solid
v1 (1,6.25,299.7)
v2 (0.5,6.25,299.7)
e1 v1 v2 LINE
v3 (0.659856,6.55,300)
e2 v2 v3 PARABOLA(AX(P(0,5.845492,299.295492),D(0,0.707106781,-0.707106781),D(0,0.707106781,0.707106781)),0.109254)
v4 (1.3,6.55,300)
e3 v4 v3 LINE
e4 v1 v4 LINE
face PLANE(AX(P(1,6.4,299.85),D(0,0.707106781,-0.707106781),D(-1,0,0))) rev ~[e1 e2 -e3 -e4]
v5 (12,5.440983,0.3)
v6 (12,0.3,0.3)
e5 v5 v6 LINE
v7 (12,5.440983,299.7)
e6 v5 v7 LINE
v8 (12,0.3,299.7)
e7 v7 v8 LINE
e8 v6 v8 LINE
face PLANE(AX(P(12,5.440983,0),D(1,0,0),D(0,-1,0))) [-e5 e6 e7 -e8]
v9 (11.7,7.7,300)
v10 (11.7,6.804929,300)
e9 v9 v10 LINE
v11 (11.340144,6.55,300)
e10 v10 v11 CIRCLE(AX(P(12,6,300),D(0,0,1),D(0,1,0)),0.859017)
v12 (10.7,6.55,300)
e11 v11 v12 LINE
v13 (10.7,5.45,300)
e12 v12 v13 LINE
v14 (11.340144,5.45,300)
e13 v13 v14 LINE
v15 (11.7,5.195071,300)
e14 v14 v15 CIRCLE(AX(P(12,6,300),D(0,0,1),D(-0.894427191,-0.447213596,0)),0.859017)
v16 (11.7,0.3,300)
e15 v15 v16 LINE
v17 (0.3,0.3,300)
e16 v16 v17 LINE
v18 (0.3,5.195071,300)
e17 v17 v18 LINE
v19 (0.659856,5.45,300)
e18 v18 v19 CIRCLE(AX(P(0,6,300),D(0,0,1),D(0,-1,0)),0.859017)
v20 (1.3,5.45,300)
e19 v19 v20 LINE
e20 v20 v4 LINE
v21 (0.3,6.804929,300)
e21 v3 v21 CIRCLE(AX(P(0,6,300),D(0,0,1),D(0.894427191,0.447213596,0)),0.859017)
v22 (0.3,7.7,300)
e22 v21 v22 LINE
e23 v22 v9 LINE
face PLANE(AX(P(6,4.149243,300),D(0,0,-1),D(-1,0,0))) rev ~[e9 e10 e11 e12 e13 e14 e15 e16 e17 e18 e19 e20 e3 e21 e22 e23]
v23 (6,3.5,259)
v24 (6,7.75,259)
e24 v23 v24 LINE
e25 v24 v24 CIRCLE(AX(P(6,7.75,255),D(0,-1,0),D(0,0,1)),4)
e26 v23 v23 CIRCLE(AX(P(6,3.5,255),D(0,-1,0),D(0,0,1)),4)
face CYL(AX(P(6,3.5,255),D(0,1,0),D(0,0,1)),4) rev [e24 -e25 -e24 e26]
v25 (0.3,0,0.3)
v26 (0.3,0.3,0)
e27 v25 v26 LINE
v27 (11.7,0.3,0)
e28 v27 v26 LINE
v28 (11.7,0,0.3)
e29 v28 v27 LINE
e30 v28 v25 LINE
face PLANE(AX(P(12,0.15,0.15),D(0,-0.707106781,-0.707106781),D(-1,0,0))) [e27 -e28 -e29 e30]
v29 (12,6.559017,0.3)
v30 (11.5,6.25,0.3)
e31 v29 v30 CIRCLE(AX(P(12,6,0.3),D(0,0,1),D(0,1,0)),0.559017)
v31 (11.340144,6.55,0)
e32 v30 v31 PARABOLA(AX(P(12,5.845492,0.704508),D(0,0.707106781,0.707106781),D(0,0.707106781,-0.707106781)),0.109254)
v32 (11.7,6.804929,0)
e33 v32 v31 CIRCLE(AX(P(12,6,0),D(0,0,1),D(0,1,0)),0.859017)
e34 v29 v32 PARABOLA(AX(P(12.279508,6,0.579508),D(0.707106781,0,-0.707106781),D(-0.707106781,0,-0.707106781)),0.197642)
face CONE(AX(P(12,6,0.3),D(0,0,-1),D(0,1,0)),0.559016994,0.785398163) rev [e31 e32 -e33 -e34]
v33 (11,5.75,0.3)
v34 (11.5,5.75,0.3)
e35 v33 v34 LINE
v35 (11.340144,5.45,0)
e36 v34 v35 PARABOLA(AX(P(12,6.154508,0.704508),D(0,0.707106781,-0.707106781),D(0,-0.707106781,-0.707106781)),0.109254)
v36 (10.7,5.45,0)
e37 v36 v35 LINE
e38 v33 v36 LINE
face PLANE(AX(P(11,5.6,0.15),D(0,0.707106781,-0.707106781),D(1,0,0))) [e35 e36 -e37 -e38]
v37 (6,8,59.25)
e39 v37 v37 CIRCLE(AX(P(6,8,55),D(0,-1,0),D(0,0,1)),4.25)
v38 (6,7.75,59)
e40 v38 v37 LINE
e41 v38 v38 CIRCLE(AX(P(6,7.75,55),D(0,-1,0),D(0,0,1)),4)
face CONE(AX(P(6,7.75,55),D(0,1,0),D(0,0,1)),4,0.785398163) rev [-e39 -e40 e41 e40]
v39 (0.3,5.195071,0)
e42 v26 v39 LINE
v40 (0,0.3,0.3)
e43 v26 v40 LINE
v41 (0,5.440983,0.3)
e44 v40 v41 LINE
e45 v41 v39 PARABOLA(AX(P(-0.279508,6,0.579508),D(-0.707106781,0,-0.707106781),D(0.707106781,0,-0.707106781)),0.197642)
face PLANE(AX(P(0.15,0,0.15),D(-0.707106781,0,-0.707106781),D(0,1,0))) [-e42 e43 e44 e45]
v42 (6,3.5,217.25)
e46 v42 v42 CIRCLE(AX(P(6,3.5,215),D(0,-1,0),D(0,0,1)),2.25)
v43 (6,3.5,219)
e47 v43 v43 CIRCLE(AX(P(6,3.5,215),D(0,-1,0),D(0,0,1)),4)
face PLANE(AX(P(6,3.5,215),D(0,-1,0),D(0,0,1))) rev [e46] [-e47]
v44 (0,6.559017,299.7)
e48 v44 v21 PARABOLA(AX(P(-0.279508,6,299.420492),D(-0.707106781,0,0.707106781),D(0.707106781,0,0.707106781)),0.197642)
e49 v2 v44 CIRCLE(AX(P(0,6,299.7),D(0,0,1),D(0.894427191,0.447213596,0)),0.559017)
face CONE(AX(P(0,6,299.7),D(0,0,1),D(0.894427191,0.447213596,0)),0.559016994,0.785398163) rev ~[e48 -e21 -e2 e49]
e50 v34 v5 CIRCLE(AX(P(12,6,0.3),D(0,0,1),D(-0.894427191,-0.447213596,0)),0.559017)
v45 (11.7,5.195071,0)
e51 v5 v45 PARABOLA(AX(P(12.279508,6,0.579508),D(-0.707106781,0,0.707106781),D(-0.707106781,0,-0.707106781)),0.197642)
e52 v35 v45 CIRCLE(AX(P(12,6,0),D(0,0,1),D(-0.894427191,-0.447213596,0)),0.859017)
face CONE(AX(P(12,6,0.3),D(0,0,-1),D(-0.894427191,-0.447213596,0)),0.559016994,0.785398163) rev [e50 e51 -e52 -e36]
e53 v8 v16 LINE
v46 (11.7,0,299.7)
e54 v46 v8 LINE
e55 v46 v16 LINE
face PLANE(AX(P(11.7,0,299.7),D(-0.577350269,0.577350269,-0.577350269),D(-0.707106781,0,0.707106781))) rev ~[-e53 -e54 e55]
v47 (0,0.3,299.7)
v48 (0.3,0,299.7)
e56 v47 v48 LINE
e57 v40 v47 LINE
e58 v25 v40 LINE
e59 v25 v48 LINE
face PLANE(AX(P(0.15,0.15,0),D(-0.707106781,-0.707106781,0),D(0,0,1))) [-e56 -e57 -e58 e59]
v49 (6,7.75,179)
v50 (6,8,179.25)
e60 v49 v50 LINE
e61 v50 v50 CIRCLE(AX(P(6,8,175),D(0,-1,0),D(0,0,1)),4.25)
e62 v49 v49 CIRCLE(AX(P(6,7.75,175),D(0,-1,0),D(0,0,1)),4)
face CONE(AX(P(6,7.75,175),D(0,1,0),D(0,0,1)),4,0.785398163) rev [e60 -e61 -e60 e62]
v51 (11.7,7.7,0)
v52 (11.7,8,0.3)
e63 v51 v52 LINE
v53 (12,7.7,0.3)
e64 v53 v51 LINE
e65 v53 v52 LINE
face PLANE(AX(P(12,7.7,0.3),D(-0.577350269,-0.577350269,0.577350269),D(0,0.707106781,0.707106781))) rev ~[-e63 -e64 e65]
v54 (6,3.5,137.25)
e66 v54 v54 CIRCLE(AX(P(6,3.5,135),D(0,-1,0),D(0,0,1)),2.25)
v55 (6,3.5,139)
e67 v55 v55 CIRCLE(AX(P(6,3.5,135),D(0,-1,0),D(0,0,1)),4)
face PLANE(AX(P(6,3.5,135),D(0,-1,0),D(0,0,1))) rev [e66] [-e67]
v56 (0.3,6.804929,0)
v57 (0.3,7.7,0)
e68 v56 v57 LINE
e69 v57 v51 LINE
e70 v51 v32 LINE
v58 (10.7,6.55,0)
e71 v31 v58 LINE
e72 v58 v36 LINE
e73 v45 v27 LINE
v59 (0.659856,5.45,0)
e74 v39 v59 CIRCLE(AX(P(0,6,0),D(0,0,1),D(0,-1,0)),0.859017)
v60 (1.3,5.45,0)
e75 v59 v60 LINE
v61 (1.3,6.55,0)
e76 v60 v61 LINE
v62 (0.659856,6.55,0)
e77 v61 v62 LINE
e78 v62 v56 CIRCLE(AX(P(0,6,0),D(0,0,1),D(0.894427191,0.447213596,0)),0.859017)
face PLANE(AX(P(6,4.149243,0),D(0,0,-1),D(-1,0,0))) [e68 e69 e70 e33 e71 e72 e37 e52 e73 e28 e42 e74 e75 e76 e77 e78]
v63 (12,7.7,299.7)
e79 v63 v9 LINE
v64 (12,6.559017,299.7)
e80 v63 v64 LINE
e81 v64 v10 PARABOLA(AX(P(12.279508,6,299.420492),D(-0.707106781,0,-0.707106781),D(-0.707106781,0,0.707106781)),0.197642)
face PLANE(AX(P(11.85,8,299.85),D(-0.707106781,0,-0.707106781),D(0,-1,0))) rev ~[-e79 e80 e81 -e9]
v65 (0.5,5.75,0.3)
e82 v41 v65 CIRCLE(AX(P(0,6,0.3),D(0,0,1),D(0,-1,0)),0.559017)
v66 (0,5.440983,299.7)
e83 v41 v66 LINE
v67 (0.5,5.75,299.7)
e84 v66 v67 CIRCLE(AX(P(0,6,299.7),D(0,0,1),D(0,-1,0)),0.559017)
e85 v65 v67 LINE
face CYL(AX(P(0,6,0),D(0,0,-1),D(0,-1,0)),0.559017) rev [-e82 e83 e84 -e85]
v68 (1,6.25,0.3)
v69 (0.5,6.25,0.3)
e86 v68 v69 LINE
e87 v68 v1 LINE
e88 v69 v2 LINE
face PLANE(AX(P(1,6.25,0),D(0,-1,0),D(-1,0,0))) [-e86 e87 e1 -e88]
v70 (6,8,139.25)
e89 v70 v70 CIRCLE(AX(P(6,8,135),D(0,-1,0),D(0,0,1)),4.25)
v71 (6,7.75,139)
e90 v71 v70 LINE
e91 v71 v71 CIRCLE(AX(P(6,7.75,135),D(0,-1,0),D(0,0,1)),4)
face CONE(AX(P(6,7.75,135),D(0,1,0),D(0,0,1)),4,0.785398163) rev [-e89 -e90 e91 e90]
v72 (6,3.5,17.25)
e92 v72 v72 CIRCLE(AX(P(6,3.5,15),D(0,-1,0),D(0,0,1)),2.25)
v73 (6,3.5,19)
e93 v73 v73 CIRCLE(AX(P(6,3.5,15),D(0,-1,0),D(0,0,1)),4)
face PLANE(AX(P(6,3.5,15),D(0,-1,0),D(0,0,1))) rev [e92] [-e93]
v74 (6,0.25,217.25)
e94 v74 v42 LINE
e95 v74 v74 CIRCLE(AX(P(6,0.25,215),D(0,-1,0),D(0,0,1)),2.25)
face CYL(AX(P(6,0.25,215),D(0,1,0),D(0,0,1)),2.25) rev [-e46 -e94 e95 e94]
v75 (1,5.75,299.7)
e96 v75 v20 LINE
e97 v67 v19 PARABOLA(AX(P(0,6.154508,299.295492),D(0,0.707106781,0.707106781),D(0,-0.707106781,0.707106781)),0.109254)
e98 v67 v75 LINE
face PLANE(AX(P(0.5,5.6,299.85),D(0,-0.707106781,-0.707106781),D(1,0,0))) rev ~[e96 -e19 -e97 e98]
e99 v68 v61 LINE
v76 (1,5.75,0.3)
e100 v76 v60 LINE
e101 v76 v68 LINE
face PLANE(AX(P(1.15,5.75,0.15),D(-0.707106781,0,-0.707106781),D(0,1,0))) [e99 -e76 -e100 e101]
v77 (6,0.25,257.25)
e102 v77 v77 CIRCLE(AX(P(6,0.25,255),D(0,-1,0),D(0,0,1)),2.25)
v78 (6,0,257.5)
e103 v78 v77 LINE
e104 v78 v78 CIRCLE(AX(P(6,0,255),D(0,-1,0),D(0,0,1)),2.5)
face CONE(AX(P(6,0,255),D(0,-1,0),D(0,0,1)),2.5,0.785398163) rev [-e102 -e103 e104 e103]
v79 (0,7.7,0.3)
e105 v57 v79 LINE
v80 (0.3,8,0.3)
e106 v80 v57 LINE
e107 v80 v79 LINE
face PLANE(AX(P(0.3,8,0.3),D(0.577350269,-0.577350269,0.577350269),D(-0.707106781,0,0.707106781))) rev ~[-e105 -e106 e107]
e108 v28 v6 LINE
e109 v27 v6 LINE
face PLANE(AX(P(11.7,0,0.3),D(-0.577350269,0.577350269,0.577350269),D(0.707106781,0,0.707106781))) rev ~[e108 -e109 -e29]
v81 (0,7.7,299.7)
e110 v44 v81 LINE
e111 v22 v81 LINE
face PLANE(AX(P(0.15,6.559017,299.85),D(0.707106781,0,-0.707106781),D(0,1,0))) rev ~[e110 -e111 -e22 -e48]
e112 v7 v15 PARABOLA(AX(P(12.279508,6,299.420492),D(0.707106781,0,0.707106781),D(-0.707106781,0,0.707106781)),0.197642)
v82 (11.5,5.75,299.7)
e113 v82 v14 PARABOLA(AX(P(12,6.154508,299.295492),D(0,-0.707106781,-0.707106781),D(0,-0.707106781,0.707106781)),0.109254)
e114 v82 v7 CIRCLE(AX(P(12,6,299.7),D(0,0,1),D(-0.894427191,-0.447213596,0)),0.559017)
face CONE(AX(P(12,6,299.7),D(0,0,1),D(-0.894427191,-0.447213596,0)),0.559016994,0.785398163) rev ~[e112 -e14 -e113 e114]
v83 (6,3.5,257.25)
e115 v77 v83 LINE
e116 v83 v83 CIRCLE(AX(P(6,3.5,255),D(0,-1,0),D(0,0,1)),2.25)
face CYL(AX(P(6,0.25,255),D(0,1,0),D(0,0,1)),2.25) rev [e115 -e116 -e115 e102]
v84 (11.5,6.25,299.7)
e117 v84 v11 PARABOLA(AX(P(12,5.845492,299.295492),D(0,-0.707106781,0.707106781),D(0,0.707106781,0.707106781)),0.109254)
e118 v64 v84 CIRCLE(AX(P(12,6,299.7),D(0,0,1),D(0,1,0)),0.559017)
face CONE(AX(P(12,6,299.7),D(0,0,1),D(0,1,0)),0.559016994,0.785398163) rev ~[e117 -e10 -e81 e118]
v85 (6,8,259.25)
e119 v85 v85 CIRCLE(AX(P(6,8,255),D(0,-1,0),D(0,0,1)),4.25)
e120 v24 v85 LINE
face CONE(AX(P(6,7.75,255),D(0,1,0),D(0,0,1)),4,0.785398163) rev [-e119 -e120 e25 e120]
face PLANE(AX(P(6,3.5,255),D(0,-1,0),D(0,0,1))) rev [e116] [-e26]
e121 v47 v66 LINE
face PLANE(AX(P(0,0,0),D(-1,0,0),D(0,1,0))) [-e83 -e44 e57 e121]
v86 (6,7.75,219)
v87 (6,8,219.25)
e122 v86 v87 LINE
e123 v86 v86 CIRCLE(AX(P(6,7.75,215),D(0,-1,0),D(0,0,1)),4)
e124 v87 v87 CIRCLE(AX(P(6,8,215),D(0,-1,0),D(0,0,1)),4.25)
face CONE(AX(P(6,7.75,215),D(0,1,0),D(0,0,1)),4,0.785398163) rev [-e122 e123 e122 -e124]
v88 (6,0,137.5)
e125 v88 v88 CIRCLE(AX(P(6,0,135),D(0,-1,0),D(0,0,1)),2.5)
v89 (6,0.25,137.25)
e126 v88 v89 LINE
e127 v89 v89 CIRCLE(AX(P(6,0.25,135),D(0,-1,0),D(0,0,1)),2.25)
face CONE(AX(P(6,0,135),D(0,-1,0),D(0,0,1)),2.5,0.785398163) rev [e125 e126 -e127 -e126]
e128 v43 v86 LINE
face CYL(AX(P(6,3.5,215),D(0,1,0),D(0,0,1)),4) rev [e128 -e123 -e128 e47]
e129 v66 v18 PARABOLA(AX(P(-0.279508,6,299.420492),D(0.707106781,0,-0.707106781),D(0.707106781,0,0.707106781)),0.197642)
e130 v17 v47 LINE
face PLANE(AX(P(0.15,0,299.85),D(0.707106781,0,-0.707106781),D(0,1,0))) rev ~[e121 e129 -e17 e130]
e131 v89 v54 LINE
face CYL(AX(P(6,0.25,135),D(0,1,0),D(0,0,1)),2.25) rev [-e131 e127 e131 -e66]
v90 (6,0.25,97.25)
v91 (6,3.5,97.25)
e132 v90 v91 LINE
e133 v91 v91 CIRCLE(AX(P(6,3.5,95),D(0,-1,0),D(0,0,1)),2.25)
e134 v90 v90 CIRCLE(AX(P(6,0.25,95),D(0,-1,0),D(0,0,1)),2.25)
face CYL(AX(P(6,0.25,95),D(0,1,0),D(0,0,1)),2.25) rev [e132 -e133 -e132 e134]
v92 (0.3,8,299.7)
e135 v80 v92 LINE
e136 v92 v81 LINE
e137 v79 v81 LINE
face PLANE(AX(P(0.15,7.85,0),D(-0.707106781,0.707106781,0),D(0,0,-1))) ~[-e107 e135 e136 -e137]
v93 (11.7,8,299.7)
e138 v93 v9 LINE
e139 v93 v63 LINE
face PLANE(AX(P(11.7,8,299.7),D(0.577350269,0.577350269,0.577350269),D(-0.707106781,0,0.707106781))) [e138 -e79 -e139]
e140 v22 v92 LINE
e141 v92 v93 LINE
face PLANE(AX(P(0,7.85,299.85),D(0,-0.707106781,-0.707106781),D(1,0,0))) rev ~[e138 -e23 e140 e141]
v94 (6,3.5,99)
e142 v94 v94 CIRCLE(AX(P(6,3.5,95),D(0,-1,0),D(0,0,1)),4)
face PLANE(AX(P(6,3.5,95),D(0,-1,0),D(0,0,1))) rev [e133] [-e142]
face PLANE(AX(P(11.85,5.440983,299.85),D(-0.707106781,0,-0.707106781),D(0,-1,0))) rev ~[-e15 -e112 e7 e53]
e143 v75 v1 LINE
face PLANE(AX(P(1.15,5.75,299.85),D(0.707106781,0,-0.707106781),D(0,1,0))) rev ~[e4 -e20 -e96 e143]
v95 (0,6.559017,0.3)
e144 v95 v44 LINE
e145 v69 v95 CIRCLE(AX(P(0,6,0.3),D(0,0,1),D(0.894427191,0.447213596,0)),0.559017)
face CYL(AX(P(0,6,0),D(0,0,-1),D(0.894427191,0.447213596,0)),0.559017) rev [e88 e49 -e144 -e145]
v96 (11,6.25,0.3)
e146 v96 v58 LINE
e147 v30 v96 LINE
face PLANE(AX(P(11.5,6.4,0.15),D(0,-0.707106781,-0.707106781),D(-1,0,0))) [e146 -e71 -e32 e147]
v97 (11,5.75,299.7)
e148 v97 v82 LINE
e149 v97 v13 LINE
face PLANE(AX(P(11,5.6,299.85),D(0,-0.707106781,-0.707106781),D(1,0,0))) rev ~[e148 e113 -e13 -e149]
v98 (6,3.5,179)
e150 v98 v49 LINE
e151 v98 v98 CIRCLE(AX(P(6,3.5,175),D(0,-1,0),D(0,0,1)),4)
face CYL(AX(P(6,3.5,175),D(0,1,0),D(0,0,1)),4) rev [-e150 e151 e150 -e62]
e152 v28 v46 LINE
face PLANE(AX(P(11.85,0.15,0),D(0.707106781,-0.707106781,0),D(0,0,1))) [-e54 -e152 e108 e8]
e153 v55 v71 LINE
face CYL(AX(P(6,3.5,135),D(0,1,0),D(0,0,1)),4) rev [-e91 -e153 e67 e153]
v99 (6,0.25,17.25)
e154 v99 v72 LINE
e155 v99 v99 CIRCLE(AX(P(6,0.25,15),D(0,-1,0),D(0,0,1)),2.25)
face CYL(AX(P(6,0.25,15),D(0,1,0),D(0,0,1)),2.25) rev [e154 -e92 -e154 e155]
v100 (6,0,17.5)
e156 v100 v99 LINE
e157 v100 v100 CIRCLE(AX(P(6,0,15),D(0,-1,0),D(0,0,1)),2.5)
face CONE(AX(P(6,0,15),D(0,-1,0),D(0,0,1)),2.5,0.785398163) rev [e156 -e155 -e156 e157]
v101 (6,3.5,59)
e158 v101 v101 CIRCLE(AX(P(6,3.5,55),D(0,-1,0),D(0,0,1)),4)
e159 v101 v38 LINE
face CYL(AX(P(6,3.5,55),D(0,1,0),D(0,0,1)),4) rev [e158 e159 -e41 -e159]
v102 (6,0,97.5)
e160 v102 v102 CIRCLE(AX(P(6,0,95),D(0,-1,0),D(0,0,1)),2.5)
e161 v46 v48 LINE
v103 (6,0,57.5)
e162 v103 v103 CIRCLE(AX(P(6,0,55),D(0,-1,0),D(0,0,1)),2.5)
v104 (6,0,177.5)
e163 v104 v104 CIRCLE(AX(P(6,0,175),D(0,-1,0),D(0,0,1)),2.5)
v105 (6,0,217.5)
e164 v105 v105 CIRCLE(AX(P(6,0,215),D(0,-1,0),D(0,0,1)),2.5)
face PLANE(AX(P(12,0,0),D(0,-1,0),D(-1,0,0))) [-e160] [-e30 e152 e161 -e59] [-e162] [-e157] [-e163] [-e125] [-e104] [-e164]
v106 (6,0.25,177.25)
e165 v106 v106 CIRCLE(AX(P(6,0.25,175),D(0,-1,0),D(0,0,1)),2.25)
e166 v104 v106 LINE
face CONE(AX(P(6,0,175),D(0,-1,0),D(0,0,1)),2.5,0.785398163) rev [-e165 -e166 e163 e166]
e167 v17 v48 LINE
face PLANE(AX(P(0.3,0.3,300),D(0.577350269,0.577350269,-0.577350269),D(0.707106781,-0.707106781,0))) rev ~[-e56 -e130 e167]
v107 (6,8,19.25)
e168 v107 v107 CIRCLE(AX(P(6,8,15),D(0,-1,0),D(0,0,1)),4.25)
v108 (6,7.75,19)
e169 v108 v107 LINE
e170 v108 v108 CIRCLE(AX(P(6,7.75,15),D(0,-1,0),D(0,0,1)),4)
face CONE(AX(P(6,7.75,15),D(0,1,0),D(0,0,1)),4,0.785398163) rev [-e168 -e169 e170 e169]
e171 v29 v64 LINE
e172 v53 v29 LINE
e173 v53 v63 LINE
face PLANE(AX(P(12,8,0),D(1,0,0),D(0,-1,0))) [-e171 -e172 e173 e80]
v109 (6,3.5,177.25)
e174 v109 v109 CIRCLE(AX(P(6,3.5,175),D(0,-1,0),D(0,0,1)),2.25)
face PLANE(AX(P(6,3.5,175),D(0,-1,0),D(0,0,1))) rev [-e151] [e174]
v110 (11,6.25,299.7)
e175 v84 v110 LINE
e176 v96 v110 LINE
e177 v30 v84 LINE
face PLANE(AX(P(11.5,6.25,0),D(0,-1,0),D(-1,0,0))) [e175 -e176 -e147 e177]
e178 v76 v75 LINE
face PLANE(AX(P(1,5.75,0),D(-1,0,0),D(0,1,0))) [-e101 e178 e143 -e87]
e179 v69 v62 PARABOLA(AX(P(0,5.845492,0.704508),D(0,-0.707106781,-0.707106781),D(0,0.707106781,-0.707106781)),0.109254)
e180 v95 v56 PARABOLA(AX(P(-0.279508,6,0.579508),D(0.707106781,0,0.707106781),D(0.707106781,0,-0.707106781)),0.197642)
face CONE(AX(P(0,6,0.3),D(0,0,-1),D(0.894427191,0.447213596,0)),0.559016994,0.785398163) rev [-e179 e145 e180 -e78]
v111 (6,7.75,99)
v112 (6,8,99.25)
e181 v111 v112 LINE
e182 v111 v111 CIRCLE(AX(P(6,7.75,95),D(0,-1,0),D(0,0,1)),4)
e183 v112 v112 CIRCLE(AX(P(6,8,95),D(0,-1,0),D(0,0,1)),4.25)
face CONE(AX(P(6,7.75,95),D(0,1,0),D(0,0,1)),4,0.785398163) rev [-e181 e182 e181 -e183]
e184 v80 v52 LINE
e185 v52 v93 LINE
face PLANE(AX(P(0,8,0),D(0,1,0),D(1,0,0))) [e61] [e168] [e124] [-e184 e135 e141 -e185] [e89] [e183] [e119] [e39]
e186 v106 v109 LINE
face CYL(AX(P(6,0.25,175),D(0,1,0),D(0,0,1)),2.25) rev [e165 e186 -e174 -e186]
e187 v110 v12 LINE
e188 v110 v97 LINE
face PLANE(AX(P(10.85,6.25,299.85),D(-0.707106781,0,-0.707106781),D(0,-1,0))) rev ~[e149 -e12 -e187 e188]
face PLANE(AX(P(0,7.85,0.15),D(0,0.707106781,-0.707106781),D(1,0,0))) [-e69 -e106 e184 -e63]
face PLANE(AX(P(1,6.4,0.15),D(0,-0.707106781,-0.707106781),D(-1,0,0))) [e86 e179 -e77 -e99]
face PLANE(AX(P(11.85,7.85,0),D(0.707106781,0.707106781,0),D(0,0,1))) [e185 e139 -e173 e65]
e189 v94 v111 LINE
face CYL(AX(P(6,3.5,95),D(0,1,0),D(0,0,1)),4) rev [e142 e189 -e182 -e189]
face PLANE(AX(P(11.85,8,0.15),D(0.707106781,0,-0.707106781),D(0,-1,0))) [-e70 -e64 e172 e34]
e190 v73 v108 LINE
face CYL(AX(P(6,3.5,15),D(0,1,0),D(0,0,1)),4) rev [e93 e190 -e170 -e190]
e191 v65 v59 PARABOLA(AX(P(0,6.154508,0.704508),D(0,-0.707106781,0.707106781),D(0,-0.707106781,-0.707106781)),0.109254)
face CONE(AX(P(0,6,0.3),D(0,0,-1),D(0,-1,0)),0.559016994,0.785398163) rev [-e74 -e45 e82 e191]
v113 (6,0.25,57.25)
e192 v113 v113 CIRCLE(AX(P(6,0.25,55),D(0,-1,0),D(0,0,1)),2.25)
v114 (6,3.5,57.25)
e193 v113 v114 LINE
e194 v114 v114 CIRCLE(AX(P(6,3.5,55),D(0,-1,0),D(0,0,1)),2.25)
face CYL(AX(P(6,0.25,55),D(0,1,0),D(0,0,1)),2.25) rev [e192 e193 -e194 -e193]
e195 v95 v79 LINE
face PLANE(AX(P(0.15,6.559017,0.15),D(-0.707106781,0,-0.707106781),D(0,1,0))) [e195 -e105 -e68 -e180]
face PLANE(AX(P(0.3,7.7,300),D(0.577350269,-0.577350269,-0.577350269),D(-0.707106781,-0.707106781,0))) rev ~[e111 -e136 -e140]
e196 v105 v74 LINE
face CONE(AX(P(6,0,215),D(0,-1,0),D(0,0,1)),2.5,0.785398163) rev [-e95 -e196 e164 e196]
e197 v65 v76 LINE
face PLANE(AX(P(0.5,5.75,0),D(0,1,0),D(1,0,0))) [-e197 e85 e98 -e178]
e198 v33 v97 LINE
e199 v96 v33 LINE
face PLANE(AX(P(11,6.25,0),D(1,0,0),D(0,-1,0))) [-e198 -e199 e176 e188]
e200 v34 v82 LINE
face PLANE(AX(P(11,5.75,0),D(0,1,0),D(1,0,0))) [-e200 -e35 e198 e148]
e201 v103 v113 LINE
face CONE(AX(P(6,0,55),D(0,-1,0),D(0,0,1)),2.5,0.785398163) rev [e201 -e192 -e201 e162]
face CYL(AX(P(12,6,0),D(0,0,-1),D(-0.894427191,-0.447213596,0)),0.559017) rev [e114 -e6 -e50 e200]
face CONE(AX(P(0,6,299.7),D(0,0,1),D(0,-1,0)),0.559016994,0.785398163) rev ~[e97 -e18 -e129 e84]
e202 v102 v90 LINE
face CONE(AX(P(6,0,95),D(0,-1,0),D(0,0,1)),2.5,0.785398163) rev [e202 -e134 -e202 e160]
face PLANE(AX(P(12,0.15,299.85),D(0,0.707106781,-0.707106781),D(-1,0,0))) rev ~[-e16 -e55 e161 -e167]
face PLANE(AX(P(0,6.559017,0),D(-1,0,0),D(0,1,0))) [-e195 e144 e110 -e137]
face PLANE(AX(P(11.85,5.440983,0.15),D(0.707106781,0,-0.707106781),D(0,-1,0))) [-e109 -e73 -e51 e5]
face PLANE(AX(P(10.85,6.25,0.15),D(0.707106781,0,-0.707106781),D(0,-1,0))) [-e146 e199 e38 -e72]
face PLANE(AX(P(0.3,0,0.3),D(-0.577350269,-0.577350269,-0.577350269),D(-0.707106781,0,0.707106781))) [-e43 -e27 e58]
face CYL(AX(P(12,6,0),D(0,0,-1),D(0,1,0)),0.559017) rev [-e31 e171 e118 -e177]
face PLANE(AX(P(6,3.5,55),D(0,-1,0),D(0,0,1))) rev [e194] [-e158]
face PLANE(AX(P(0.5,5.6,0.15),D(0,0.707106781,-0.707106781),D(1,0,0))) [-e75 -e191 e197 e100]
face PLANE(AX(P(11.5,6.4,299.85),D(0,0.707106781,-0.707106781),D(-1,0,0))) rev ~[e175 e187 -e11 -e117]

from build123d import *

# Parameters (mm, degrees)
BOSS_EXTRUDE1_DEPTH = 300
CHAMFER1_SIZE       = 0.3
LPATTERN1_COUNT     = 7
LPATTERN1_PITCH     = 40


with BuildPart() as part:
    # Sketch1 → Boss-Extrude1 (new body)
    with BuildSketch(Plane.XY):
        with BuildLine():
            Line((0, 8), (12, 8))
            Line((12, 8), (12, 6.75))
            Line((12, 6.75), (12, 6.559016994))
            ThreePointArc((12, 6.559016994), (11.706107374, 6.475528258), (11.5, 6.25))
            Line((11.5, 6.25), (11, 6.25))
            Line((11, 6.25), (11, 5.75))
            Line((11, 5.75), (11.5, 5.75))
            ThreePointArc((11.5, 5.75), (11.706107374, 5.524471742), (12, 5.440983006))
            Line((12, 5.440983006), (12, 5.25))
            Line((12, 5.25), (12, 0))
            Line((12, 0), (0, 0))
            Line((0, 0), (0, 5.25))
            Line((0, 5.25), (0, 5.440983006))
            ThreePointArc((0, 5.440983006), (0.293892626, 5.524471742), (0.5, 5.75))
            Line((0.5, 5.75), (1, 5.75))
            Line((1, 5.75), (1, 6.25))
            Line((1, 6.25), (0.5, 6.25))
            ThreePointArc((0.5, 6.25), (0.293892626, 6.475528258), (0, 6.559016994))
            Line((0, 6.559016994), (0, 6.75))
            Line((0, 6.75), (0, 8))
        make_face()
    extrude(amount=BOSS_EXTRUDE1_DEPTH)

    # Chamfer1
    chamfer1_edges = [part.edges().sort_by_distance(p)[0] for p in [
        (12, 2.720491503, 300),
        (11.706107374, 5.524471742, 300),
        (0, 2.720491503, 0),
        (0.293892626, 5.524471742, 0),
        (0.75, 5.75, 0),
        (1, 6, 0),
        (0.75, 6.25, 0),
        (11.25, 5.75, 300),
        (0.293892626, 6.475528258, 0),
        (0, 7.279508497, 0),
        (6, 8, 0),
        (12, 7.279508497, 0),
        (11.706107374, 6.475528258, 0),
        (11, 6, 300),
        (11.25, 6.25, 0),
        (11, 6, 0),
        (11.25, 5.75, 0),
        (11.706107374, 5.524471742, 0),
        (12, 2.720491503, 0),
        (6, 0, 0),
        (11.25, 6.25, 300),
        (11.706107374, 6.475528258, 300),
        (12, 7.279508497, 300),
        (0, 8, 150),
        (12, 8, 150),
        (12, 0, 150),
        (0, 0, 150),
        (6, 8, 300),
        (0, 2.720491503, 300),
        (0, 7.279508497, 300),
        (0.293892626, 6.475528258, 300),
        (0.75, 6.25, 300),
        (1, 6, 300),
        (0.75, 5.75, 300),
        (0.293892626, 5.524471742, 300),
        (6, 0, 300),
    ]]
    chamfer(chamfer1_edges, length=CHAMFER1_SIZE)

    # Sketch3 → CBORE for M5 Hex Head Bolt1 (revolve, cut)
    with BuildSketch(Plane(origin=(6, 8, 15), x_dir=(0, 0, 1), z_dir=(1, 0, 0))):
        Polygon((0, 0), (0, 8), (2.5, 8), (2.25, 7.75), (2.25, 4.5), (4, 4.5), (4, 0.25), (4.25, 0), align=None)
    cbore_for_m5_hex_head_bolt1 = revolve(axis=Axis((6, 14.35, 15), (0, -1, 0)), mode=Mode.SUBTRACT)

    # LPattern1: CBORE for M5 Hex Head Bolt1 ×7
    with Locations(*[(0, 0, i * LPATTERN1_PITCH) for i in range(1, LPATTERN1_COUNT)]):
        add(cbore_for_m5_hex_head_bolt1, mode=Mode.SUBTRACT)


solid = part.part
